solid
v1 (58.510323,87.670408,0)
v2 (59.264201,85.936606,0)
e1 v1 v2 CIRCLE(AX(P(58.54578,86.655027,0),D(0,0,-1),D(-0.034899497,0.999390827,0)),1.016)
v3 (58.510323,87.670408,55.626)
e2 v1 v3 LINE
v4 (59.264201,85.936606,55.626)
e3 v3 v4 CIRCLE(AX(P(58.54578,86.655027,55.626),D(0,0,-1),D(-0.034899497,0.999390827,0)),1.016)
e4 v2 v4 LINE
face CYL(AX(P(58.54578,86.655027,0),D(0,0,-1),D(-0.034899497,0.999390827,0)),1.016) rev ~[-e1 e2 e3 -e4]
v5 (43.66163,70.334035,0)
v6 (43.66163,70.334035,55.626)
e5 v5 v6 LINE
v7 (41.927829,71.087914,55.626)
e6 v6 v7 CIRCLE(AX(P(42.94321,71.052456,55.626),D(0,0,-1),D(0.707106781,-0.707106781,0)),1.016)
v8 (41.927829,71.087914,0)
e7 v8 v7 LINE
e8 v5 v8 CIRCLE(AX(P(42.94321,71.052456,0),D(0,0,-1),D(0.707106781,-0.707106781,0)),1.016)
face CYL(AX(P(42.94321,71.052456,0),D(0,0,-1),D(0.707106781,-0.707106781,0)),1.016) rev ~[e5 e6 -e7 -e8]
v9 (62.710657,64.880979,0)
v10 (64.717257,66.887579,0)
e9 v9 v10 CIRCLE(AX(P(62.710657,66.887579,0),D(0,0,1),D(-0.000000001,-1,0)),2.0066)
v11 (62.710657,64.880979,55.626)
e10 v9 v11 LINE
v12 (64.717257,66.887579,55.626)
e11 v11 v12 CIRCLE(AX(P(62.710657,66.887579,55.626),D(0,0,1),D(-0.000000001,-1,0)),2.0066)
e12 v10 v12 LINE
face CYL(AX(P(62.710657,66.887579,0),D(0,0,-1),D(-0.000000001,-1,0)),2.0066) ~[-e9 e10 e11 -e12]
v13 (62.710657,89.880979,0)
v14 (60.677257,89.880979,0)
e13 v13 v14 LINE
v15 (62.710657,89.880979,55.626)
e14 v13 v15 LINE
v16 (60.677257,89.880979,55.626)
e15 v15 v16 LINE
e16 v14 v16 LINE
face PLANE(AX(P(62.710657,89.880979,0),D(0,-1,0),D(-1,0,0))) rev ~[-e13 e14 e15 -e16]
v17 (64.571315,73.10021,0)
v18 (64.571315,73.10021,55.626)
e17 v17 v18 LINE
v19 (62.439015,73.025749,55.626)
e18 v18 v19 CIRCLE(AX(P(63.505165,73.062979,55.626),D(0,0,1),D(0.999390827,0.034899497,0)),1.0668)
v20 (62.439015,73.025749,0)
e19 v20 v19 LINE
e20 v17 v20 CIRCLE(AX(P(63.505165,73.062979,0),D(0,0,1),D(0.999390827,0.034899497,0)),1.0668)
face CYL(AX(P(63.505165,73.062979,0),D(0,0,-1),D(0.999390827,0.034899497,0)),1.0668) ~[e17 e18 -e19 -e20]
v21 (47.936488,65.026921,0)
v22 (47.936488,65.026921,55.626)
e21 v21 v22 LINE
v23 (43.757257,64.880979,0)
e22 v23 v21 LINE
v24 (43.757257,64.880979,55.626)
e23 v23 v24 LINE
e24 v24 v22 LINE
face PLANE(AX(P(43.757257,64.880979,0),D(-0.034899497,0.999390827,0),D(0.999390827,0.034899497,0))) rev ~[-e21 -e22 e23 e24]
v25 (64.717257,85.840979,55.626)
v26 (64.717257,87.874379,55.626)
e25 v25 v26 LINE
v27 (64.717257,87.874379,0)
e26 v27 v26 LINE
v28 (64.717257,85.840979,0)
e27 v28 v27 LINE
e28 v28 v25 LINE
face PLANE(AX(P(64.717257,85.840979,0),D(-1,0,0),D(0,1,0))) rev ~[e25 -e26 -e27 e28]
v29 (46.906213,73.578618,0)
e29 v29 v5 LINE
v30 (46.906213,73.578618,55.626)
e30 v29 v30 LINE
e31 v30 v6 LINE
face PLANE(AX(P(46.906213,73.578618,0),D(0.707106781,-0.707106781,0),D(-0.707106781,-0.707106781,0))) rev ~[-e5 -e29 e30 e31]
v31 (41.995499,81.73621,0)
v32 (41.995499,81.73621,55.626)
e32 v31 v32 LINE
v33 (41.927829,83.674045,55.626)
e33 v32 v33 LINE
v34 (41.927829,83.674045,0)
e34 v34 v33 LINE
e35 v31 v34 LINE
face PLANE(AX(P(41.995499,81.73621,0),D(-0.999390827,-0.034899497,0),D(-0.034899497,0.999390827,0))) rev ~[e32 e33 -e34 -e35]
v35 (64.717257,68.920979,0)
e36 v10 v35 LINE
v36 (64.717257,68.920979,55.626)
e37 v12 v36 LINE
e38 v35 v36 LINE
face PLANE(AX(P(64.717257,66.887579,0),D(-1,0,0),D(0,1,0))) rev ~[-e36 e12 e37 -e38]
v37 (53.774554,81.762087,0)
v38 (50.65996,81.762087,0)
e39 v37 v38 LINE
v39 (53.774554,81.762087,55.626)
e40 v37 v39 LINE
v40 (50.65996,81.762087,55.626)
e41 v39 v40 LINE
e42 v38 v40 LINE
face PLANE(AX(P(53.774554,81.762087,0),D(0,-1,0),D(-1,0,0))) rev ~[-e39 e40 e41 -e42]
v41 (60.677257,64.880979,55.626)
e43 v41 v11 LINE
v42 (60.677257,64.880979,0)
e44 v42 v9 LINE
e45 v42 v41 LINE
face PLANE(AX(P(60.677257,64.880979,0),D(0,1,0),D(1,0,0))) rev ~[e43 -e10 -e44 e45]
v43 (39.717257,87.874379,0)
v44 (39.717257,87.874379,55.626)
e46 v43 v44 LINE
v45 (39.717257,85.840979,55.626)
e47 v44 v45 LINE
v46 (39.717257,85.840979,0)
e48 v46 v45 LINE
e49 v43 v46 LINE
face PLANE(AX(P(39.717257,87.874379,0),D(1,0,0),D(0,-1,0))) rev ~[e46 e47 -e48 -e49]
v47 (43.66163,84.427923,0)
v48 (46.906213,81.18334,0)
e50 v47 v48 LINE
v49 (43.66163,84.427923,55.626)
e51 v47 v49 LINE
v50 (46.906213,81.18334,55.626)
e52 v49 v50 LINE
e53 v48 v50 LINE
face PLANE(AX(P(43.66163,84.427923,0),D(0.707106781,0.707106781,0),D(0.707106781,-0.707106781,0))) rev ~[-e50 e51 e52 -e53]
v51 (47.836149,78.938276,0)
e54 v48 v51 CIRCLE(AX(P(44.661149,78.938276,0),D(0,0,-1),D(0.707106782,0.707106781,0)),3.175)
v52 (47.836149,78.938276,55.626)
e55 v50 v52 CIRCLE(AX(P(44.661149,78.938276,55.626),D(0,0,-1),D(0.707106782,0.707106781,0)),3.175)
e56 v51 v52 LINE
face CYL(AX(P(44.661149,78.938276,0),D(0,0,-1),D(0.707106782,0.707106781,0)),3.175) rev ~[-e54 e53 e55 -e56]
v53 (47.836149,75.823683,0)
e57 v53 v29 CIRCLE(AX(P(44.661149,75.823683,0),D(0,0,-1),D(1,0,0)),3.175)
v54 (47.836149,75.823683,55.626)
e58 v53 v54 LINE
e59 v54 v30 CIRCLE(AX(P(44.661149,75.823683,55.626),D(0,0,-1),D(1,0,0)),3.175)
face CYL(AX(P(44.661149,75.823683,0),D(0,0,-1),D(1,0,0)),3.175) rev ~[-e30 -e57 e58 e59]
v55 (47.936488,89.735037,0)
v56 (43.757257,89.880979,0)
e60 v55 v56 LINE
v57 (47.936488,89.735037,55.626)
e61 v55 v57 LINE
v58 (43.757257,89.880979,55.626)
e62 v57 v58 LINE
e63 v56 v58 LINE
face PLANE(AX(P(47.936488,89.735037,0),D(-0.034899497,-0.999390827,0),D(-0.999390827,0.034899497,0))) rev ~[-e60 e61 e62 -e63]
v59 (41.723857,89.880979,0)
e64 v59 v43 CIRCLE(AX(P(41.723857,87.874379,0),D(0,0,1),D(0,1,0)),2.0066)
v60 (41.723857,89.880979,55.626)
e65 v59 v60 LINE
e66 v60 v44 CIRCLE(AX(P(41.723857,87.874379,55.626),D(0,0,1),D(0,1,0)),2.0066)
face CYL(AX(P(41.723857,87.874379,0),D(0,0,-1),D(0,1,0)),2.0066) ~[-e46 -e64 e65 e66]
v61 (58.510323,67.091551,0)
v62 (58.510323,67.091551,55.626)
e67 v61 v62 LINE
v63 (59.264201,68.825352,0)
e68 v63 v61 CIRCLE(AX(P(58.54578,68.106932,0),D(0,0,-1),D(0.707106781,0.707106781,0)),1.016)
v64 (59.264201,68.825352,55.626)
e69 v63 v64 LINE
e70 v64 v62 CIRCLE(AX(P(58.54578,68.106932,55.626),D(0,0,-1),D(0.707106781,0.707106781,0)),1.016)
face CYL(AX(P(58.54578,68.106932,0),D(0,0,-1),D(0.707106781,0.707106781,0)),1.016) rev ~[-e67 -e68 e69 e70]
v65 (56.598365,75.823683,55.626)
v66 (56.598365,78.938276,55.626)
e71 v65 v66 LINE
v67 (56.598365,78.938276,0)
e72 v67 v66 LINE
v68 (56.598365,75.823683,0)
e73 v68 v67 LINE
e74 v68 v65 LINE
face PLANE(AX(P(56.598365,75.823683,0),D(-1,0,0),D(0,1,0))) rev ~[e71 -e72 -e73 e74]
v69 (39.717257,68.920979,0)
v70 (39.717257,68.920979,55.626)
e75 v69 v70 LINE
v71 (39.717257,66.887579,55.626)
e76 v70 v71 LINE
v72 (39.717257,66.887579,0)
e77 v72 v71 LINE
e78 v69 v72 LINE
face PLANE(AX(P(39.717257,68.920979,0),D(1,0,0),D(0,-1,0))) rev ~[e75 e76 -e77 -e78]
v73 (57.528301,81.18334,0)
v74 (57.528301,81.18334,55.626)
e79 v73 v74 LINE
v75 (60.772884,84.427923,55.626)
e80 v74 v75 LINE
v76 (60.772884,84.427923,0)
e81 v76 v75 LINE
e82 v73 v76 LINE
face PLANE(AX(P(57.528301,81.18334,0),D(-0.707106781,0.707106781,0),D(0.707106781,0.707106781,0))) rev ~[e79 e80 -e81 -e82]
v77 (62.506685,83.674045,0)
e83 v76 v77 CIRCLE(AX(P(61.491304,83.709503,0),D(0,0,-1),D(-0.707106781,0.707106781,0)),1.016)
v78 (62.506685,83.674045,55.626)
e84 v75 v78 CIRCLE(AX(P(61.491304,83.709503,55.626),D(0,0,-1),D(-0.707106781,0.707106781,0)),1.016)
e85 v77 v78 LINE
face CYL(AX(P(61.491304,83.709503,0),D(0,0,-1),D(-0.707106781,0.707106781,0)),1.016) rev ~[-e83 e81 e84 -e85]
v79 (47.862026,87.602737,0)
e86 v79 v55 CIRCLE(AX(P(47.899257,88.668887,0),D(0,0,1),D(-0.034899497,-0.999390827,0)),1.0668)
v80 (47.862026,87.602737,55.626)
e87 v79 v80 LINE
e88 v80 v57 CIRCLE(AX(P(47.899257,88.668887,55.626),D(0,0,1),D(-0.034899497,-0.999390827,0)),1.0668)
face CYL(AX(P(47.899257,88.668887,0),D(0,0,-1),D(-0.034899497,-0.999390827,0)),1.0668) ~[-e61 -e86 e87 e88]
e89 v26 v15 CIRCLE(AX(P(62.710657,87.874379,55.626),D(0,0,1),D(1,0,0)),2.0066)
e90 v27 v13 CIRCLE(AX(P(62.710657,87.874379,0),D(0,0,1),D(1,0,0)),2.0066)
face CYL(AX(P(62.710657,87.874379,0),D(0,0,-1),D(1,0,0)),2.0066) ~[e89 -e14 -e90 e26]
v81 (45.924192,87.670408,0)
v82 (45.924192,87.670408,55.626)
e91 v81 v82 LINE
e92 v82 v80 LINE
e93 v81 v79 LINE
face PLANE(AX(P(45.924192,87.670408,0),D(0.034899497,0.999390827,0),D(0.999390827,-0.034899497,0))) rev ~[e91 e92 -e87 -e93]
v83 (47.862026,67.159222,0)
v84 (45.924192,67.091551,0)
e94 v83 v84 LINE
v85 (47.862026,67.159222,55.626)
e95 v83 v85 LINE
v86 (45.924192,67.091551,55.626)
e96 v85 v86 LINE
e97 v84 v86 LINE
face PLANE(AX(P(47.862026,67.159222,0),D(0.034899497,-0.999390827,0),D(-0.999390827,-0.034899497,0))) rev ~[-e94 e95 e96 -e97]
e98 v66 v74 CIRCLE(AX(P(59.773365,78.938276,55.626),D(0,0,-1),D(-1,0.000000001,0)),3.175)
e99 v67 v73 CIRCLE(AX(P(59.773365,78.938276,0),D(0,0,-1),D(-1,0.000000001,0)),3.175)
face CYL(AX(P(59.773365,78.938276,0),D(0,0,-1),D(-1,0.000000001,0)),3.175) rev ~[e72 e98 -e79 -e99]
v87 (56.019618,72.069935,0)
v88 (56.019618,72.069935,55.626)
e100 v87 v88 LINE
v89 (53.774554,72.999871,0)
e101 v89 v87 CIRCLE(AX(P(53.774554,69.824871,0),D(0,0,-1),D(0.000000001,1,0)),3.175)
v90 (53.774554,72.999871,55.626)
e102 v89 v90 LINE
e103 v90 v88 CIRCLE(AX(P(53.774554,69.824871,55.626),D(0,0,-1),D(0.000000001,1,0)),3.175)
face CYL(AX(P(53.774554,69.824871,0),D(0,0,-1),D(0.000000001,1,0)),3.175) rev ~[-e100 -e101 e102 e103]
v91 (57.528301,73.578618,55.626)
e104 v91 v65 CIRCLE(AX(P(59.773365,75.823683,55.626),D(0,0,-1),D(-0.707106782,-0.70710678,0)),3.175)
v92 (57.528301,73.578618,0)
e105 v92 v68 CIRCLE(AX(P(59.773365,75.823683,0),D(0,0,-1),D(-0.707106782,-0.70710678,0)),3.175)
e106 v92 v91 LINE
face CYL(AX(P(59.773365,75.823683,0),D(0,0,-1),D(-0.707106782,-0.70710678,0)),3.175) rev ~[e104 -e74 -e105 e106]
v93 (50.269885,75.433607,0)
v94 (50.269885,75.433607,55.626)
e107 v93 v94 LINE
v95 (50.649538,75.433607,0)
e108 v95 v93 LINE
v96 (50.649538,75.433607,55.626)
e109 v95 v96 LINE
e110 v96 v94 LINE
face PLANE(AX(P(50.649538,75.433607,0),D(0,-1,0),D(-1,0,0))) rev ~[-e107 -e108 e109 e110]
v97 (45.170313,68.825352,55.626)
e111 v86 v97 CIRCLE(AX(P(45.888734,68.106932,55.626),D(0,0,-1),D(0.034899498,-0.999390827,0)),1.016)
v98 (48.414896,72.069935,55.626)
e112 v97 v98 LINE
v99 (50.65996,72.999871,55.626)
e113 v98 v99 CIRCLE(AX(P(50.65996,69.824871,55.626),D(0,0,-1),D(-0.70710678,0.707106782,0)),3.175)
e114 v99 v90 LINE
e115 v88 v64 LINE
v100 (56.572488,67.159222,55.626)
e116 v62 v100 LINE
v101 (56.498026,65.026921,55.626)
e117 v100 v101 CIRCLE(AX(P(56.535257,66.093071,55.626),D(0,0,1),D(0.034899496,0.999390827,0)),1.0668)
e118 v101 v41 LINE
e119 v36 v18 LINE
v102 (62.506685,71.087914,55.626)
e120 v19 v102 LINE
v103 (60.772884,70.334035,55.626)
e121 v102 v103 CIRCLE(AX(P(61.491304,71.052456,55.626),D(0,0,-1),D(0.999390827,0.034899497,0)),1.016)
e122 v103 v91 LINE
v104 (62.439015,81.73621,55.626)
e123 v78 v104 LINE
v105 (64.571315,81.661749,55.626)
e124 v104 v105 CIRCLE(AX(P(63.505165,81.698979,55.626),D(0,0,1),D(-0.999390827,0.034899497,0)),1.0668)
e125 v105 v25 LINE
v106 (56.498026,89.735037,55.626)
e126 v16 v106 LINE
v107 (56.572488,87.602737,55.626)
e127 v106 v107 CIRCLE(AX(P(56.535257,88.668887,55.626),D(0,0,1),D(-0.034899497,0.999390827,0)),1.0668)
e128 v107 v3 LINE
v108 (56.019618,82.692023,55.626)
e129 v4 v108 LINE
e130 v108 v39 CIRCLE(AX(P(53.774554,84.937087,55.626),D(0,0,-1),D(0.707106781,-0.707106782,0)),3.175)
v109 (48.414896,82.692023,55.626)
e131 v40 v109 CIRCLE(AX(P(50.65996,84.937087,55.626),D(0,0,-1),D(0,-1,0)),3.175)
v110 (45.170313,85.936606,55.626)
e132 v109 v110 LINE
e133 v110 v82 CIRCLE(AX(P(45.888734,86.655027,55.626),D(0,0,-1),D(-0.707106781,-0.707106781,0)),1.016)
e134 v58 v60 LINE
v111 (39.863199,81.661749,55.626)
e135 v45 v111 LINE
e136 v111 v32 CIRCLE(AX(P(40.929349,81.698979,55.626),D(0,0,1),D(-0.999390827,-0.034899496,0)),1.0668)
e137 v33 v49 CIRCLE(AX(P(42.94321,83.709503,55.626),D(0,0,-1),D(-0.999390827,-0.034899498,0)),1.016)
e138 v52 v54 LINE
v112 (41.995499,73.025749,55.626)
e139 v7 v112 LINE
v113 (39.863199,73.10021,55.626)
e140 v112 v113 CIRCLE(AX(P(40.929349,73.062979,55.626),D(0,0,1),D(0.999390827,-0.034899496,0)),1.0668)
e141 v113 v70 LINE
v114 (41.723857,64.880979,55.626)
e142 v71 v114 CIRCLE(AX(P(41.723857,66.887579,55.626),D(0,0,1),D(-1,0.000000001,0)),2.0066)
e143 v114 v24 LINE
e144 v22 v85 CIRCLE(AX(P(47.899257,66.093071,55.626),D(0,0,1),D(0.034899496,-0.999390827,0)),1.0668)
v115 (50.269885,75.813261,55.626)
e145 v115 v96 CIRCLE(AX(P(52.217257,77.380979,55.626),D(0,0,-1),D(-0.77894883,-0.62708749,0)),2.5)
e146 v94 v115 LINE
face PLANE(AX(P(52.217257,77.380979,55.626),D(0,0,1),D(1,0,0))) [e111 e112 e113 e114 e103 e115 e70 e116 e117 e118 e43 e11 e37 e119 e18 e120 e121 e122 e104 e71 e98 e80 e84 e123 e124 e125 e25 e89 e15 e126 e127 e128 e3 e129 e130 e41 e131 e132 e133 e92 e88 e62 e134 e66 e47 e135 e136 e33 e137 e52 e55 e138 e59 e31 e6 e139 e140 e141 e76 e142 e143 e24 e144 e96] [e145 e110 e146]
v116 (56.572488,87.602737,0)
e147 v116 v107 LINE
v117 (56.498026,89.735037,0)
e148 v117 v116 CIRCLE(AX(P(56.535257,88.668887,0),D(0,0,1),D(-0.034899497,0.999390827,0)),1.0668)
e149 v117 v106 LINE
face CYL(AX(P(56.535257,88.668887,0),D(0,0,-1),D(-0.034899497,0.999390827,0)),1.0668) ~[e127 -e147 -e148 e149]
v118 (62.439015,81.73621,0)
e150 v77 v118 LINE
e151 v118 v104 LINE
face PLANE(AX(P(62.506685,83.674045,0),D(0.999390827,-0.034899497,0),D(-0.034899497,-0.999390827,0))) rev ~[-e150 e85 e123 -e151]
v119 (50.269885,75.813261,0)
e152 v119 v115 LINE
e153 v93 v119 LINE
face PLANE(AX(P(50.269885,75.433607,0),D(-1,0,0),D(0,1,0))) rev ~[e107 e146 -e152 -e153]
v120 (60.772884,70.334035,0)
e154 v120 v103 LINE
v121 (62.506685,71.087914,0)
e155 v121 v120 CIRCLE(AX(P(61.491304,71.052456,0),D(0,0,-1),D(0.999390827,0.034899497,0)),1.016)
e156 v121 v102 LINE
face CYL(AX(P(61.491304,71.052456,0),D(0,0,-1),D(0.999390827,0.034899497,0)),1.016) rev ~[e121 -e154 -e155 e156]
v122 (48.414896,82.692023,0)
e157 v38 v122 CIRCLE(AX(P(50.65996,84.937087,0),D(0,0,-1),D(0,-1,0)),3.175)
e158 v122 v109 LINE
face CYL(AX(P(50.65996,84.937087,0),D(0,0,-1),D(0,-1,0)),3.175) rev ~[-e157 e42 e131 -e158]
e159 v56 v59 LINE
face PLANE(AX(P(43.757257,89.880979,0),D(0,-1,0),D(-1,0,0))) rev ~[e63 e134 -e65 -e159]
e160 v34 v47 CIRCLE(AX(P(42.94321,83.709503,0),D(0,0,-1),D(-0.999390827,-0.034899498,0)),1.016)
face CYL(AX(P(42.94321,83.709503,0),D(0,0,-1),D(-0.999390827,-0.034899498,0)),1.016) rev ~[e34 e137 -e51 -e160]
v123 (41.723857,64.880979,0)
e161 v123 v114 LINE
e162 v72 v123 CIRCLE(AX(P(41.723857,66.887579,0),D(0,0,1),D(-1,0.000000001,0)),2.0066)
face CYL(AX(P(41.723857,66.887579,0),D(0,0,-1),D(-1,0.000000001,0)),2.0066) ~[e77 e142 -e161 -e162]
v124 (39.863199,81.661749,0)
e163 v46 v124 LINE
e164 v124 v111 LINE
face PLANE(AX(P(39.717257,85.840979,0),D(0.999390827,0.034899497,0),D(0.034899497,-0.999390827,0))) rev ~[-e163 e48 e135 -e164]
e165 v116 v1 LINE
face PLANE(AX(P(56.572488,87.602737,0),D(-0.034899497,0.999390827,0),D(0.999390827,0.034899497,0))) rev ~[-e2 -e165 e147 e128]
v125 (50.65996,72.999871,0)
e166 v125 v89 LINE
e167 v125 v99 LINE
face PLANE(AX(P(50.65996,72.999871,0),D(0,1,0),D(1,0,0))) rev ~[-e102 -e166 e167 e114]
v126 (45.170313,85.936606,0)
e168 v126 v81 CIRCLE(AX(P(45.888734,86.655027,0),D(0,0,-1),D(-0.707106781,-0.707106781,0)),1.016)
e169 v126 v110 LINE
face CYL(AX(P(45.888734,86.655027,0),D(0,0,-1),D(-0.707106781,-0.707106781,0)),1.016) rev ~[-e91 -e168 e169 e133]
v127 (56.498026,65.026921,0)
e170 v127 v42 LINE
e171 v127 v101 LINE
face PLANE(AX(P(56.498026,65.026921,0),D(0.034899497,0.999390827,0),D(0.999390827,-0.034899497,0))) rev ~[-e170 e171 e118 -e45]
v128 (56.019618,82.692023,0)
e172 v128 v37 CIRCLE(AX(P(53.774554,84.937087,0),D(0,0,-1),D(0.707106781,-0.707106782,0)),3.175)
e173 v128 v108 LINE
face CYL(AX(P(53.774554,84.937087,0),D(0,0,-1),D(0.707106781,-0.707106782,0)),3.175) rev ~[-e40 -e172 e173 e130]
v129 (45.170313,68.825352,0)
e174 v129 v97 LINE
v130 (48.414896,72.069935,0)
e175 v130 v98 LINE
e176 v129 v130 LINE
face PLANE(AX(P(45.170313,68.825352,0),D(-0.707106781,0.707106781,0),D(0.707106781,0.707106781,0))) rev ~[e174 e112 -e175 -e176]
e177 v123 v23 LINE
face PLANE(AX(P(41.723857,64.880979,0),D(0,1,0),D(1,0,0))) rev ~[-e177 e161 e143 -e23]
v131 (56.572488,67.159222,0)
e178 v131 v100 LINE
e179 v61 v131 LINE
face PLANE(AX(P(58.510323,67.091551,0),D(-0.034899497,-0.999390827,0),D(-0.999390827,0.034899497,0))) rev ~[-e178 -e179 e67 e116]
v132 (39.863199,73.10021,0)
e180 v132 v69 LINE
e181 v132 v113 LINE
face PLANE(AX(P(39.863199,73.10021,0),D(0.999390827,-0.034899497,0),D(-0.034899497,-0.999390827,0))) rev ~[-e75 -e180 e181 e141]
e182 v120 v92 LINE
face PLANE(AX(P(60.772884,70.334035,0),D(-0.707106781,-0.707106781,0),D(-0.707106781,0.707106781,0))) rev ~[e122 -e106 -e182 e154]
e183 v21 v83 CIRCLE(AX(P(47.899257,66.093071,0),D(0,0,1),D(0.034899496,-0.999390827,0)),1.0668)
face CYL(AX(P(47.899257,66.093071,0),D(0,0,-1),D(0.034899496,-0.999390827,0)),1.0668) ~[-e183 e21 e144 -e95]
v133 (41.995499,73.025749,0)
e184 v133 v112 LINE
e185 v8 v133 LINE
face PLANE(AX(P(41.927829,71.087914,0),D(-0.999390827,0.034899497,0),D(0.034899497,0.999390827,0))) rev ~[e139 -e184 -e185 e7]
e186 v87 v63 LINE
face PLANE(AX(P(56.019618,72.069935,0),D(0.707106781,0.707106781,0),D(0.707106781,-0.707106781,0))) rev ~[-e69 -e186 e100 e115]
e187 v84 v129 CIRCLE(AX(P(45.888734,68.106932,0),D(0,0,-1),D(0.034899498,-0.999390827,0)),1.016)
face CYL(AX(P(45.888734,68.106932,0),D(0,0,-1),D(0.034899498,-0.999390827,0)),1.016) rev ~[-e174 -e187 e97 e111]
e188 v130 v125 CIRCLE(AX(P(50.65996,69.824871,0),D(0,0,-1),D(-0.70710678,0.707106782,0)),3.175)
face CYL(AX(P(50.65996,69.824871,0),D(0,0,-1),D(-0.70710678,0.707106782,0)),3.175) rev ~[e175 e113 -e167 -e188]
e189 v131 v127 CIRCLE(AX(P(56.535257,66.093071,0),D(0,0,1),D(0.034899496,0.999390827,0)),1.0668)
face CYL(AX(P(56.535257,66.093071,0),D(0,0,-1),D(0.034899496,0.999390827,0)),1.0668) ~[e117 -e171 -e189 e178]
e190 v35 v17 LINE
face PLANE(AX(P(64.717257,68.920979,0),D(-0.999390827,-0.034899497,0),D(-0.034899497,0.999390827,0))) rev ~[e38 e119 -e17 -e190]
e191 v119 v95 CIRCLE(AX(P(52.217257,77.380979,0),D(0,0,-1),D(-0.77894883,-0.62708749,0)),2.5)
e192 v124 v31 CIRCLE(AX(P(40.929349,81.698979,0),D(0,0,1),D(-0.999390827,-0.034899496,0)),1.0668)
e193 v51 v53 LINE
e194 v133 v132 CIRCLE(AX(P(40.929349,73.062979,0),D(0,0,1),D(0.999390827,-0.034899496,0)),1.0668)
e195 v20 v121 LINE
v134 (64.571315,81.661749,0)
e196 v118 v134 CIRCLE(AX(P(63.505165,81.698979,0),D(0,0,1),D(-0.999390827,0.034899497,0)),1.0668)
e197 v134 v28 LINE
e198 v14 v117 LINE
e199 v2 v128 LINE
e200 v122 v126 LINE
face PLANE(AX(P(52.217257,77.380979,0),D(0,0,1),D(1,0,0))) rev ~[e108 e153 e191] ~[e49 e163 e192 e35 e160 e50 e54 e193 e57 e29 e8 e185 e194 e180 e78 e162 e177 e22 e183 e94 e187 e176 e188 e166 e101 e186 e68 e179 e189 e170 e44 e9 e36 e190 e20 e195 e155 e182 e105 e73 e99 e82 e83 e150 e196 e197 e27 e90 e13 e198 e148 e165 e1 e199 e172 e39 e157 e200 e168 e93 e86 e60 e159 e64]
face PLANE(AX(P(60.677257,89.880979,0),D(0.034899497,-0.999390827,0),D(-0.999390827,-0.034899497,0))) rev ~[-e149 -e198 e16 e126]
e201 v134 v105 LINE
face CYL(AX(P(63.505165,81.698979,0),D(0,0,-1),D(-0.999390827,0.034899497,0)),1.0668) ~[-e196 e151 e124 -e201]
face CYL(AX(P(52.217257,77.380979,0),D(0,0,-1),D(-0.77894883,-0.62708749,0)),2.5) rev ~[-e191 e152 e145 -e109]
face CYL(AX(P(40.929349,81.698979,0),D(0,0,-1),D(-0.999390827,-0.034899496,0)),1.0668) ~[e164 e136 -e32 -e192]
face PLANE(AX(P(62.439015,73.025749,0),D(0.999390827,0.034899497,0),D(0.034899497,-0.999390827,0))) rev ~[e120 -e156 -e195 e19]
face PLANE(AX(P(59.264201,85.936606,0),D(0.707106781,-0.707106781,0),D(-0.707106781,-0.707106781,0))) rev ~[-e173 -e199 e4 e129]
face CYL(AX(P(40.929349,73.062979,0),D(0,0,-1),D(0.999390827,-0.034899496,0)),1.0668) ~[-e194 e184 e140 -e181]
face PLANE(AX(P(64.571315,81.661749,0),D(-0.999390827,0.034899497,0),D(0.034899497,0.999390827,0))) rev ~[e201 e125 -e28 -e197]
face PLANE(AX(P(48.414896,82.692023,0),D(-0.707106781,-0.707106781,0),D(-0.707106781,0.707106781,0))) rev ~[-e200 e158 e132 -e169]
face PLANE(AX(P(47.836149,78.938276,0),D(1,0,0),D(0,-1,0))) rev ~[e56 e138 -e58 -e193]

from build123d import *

# Parameters (mm, degrees)
BOSS_EXTRUDE1_DEPTH = 55.626


with BuildPart() as part:
    # Model → Boss-Extrude1 (new body)
    with BuildSketch(Plane.XY):
        with BuildLine():
            Line((50.659960212, 72.999871414), (53.774553856, 72.999871414))
            ThreePointArc((53.774553856, 72.999871414), (54.989573754, 72.758188929), (56.019617887, 72.069935444))
            Line((56.019617887, 72.069935444), (59.264200891, 68.825352439))
            ThreePointArc((59.264200891, 68.825352439), (59.477513437, 67.701802895), (58.510322513, 67.091550869))
            Line((58.510322513, 67.091550869), (56.572487817, 67.159221548))
            ThreePointArc((56.572487817, 67.159221548), (55.4691069, 66.130302197), (56.498026251, 65.026921279))
            Line((56.498026251, 65.026921279), (60.677257034, 64.880979325))
            Line((60.677257034, 64.880979325), (62.710657034, 64.880979325))
            ThreePointArc((62.710657034, 64.880979325), (64.129537501, 65.468698857), (64.717257034, 66.887579325))
            Line((64.717257034, 66.887579325), (64.717257034, 68.920979325))
            Line((64.717257034, 68.920979325), (64.57131508, 73.100210108))
            ThreePointArc((64.57131508, 73.100210108), (63.467934162, 74.129129459), (62.439014811, 73.025748542))
            Line((62.439014811, 73.025748542), (62.50668549, 71.087913846))
            ThreePointArc((62.50668549, 71.087913846), (61.896433464, 70.120722922), (60.77288392, 70.334035468))
            Line((60.77288392, 70.334035468), (57.528300915, 73.578618472))
            ThreePointArc((57.528300915, 73.578618472), (56.84004743, 74.608662605), (56.598364945, 75.823682503))
            Line((56.598364945, 75.823682503), (56.598364945, 78.938276147))
            ThreePointArc((56.598364945, 78.938276147), (56.84004743, 80.153296044), (57.528300915, 81.183340177))
            Line((57.528300915, 81.183340177), (60.77288392, 84.427923182))
            ThreePointArc((60.77288392, 84.427923182), (61.896433464, 84.641235728), (62.50668549, 83.674044803))
            Line((62.50668549, 83.674044803), (62.439014811, 81.736210108))
            ThreePointArc((62.439014811, 81.736210108), (63.467934162, 80.63282919), (64.57131508, 81.661748542))
            Line((64.57131508, 81.661748542), (64.717257034, 85.840979325))
            Line((64.717257034, 85.840979325), (64.717257034, 87.874379325))
            ThreePointArc((64.717257034, 87.874379325), (64.129537501, 89.293259792), (62.710657034, 89.880979325))
            Line((62.710657034, 89.880979325), (60.677257034, 89.880979325))
            Line((60.677257034, 89.880979325), (56.498026251, 89.73503737))
            ThreePointArc((56.498026251, 89.73503737), (55.4691069, 88.631656452), (56.572487817, 87.602737101))
            Line((56.572487817, 87.602737101), (58.510322513, 87.67040778))
            ThreePointArc((58.510322513, 87.67040778), (59.477513437, 87.060155754), (59.264200891, 85.93660621))
            Line((59.264200891, 85.93660621), (56.019617887, 82.692023205))
            ThreePointArc((56.019617887, 82.692023205), (54.989573754, 82.00376972), (53.774553856, 81.762087236))
            Line((53.774553856, 81.762087236), (50.659960212, 81.762087236))
            ThreePointArc((50.659960212, 81.762087236), (49.444940315, 82.00376972), (48.414896182, 82.692023205))
            Line((48.414896182, 82.692023205), (45.170313177, 85.93660621))
            ThreePointArc((45.170313177, 85.93660621), (44.957000631, 87.060155754), (45.924191556, 87.67040778))
            Line((45.924191556, 87.67040778), (47.862026251, 87.602737101))
            ThreePointArc((47.862026251, 87.602737101), (48.965407169, 88.631656452), (47.936487817, 89.73503737))
            Line((47.936487817, 89.73503737), (43.757257034, 89.880979325))
            Line((43.757257034, 89.880979325), (41.723857034, 89.880979325))
            ThreePointArc((41.723857034, 89.880979325), (40.304976567, 89.293259792), (39.717257034, 87.874379325))
            Line((39.717257034, 87.874379325), (39.717257034, 85.840979325))
            Line((39.717257034, 85.840979325), (39.863198989, 81.661748542))
            ThreePointArc((39.863198989, 81.661748542), (40.966579907, 80.63282919), (41.995499258, 81.736210108))
            Line((41.995499258, 81.736210108), (41.927828579, 83.674044803))
            ThreePointArc((41.927828579, 83.674044803), (42.538080605, 84.641235728), (43.661630149, 84.427923182))
            Line((43.661630149, 84.427923182), (46.906213154, 81.183340177))
            ThreePointArc((46.906213154, 81.183340177), (47.594466639, 80.153296044), (47.836149123, 78.938276147))
            Line((47.836149123, 78.938276147), (47.836149123, 75.823682503))
            ThreePointArc((47.836149123, 75.823682503), (47.594466639, 74.608662605), (46.906213154, 73.578618472))
            Line((46.906213154, 73.578618472), (43.661630149, 70.334035468))
            ThreePointArc((43.661630149, 70.334035468), (42.538080605, 70.120722922), (41.927828579, 71.087913846))
            Line((41.927828579, 71.087913846), (41.995499258, 73.025748542))
            ThreePointArc((41.995499258, 73.025748542), (40.966579907, 74.129129459), (39.863198989, 73.100210108))
            Line((39.863198989, 73.100210108), (39.717257034, 68.920979325))
            Line((39.717257034, 68.920979325), (39.717257034, 66.887579325))
            ThreePointArc((39.717257034, 66.887579325), (40.304976567, 65.468698857), (41.723857034, 64.880979325))
            Line((41.723857034, 64.880979325), (43.757257034, 64.880979325))
            Line((43.757257034, 64.880979325), (47.936487817, 65.026921279))
            ThreePointArc((47.936487817, 65.026921279), (48.965407169, 66.130302197), (47.862026251, 67.159221548))
            Line((47.862026251, 67.159221548), (45.924191556, 67.091550869))
            ThreePointArc((45.924191556, 67.091550869), (44.957000631, 67.701802895), (45.170313177, 68.825352439))
            Line((45.170313177, 68.825352439), (48.414896182, 72.069935444))
            ThreePointArc((48.414896182, 72.069935444), (49.444940315, 72.758188929), (50.659960212, 72.999871414))
        make_face()
        with BuildLine():
            Line((50.64953831, 75.433607249), (50.269884959, 75.433607249))
            Line((50.269884959, 75.433607249), (50.269884959, 75.8132606))
            ThreePointArc((50.269884959, 75.8132606), (53.985023987, 79.148746278), (50.64953831, 75.433607249))
        make_face(mode=Mode.SUBTRACT)
    extrude(amount=BOSS_EXTRUDE1_DEPTH)


solid = part.part
